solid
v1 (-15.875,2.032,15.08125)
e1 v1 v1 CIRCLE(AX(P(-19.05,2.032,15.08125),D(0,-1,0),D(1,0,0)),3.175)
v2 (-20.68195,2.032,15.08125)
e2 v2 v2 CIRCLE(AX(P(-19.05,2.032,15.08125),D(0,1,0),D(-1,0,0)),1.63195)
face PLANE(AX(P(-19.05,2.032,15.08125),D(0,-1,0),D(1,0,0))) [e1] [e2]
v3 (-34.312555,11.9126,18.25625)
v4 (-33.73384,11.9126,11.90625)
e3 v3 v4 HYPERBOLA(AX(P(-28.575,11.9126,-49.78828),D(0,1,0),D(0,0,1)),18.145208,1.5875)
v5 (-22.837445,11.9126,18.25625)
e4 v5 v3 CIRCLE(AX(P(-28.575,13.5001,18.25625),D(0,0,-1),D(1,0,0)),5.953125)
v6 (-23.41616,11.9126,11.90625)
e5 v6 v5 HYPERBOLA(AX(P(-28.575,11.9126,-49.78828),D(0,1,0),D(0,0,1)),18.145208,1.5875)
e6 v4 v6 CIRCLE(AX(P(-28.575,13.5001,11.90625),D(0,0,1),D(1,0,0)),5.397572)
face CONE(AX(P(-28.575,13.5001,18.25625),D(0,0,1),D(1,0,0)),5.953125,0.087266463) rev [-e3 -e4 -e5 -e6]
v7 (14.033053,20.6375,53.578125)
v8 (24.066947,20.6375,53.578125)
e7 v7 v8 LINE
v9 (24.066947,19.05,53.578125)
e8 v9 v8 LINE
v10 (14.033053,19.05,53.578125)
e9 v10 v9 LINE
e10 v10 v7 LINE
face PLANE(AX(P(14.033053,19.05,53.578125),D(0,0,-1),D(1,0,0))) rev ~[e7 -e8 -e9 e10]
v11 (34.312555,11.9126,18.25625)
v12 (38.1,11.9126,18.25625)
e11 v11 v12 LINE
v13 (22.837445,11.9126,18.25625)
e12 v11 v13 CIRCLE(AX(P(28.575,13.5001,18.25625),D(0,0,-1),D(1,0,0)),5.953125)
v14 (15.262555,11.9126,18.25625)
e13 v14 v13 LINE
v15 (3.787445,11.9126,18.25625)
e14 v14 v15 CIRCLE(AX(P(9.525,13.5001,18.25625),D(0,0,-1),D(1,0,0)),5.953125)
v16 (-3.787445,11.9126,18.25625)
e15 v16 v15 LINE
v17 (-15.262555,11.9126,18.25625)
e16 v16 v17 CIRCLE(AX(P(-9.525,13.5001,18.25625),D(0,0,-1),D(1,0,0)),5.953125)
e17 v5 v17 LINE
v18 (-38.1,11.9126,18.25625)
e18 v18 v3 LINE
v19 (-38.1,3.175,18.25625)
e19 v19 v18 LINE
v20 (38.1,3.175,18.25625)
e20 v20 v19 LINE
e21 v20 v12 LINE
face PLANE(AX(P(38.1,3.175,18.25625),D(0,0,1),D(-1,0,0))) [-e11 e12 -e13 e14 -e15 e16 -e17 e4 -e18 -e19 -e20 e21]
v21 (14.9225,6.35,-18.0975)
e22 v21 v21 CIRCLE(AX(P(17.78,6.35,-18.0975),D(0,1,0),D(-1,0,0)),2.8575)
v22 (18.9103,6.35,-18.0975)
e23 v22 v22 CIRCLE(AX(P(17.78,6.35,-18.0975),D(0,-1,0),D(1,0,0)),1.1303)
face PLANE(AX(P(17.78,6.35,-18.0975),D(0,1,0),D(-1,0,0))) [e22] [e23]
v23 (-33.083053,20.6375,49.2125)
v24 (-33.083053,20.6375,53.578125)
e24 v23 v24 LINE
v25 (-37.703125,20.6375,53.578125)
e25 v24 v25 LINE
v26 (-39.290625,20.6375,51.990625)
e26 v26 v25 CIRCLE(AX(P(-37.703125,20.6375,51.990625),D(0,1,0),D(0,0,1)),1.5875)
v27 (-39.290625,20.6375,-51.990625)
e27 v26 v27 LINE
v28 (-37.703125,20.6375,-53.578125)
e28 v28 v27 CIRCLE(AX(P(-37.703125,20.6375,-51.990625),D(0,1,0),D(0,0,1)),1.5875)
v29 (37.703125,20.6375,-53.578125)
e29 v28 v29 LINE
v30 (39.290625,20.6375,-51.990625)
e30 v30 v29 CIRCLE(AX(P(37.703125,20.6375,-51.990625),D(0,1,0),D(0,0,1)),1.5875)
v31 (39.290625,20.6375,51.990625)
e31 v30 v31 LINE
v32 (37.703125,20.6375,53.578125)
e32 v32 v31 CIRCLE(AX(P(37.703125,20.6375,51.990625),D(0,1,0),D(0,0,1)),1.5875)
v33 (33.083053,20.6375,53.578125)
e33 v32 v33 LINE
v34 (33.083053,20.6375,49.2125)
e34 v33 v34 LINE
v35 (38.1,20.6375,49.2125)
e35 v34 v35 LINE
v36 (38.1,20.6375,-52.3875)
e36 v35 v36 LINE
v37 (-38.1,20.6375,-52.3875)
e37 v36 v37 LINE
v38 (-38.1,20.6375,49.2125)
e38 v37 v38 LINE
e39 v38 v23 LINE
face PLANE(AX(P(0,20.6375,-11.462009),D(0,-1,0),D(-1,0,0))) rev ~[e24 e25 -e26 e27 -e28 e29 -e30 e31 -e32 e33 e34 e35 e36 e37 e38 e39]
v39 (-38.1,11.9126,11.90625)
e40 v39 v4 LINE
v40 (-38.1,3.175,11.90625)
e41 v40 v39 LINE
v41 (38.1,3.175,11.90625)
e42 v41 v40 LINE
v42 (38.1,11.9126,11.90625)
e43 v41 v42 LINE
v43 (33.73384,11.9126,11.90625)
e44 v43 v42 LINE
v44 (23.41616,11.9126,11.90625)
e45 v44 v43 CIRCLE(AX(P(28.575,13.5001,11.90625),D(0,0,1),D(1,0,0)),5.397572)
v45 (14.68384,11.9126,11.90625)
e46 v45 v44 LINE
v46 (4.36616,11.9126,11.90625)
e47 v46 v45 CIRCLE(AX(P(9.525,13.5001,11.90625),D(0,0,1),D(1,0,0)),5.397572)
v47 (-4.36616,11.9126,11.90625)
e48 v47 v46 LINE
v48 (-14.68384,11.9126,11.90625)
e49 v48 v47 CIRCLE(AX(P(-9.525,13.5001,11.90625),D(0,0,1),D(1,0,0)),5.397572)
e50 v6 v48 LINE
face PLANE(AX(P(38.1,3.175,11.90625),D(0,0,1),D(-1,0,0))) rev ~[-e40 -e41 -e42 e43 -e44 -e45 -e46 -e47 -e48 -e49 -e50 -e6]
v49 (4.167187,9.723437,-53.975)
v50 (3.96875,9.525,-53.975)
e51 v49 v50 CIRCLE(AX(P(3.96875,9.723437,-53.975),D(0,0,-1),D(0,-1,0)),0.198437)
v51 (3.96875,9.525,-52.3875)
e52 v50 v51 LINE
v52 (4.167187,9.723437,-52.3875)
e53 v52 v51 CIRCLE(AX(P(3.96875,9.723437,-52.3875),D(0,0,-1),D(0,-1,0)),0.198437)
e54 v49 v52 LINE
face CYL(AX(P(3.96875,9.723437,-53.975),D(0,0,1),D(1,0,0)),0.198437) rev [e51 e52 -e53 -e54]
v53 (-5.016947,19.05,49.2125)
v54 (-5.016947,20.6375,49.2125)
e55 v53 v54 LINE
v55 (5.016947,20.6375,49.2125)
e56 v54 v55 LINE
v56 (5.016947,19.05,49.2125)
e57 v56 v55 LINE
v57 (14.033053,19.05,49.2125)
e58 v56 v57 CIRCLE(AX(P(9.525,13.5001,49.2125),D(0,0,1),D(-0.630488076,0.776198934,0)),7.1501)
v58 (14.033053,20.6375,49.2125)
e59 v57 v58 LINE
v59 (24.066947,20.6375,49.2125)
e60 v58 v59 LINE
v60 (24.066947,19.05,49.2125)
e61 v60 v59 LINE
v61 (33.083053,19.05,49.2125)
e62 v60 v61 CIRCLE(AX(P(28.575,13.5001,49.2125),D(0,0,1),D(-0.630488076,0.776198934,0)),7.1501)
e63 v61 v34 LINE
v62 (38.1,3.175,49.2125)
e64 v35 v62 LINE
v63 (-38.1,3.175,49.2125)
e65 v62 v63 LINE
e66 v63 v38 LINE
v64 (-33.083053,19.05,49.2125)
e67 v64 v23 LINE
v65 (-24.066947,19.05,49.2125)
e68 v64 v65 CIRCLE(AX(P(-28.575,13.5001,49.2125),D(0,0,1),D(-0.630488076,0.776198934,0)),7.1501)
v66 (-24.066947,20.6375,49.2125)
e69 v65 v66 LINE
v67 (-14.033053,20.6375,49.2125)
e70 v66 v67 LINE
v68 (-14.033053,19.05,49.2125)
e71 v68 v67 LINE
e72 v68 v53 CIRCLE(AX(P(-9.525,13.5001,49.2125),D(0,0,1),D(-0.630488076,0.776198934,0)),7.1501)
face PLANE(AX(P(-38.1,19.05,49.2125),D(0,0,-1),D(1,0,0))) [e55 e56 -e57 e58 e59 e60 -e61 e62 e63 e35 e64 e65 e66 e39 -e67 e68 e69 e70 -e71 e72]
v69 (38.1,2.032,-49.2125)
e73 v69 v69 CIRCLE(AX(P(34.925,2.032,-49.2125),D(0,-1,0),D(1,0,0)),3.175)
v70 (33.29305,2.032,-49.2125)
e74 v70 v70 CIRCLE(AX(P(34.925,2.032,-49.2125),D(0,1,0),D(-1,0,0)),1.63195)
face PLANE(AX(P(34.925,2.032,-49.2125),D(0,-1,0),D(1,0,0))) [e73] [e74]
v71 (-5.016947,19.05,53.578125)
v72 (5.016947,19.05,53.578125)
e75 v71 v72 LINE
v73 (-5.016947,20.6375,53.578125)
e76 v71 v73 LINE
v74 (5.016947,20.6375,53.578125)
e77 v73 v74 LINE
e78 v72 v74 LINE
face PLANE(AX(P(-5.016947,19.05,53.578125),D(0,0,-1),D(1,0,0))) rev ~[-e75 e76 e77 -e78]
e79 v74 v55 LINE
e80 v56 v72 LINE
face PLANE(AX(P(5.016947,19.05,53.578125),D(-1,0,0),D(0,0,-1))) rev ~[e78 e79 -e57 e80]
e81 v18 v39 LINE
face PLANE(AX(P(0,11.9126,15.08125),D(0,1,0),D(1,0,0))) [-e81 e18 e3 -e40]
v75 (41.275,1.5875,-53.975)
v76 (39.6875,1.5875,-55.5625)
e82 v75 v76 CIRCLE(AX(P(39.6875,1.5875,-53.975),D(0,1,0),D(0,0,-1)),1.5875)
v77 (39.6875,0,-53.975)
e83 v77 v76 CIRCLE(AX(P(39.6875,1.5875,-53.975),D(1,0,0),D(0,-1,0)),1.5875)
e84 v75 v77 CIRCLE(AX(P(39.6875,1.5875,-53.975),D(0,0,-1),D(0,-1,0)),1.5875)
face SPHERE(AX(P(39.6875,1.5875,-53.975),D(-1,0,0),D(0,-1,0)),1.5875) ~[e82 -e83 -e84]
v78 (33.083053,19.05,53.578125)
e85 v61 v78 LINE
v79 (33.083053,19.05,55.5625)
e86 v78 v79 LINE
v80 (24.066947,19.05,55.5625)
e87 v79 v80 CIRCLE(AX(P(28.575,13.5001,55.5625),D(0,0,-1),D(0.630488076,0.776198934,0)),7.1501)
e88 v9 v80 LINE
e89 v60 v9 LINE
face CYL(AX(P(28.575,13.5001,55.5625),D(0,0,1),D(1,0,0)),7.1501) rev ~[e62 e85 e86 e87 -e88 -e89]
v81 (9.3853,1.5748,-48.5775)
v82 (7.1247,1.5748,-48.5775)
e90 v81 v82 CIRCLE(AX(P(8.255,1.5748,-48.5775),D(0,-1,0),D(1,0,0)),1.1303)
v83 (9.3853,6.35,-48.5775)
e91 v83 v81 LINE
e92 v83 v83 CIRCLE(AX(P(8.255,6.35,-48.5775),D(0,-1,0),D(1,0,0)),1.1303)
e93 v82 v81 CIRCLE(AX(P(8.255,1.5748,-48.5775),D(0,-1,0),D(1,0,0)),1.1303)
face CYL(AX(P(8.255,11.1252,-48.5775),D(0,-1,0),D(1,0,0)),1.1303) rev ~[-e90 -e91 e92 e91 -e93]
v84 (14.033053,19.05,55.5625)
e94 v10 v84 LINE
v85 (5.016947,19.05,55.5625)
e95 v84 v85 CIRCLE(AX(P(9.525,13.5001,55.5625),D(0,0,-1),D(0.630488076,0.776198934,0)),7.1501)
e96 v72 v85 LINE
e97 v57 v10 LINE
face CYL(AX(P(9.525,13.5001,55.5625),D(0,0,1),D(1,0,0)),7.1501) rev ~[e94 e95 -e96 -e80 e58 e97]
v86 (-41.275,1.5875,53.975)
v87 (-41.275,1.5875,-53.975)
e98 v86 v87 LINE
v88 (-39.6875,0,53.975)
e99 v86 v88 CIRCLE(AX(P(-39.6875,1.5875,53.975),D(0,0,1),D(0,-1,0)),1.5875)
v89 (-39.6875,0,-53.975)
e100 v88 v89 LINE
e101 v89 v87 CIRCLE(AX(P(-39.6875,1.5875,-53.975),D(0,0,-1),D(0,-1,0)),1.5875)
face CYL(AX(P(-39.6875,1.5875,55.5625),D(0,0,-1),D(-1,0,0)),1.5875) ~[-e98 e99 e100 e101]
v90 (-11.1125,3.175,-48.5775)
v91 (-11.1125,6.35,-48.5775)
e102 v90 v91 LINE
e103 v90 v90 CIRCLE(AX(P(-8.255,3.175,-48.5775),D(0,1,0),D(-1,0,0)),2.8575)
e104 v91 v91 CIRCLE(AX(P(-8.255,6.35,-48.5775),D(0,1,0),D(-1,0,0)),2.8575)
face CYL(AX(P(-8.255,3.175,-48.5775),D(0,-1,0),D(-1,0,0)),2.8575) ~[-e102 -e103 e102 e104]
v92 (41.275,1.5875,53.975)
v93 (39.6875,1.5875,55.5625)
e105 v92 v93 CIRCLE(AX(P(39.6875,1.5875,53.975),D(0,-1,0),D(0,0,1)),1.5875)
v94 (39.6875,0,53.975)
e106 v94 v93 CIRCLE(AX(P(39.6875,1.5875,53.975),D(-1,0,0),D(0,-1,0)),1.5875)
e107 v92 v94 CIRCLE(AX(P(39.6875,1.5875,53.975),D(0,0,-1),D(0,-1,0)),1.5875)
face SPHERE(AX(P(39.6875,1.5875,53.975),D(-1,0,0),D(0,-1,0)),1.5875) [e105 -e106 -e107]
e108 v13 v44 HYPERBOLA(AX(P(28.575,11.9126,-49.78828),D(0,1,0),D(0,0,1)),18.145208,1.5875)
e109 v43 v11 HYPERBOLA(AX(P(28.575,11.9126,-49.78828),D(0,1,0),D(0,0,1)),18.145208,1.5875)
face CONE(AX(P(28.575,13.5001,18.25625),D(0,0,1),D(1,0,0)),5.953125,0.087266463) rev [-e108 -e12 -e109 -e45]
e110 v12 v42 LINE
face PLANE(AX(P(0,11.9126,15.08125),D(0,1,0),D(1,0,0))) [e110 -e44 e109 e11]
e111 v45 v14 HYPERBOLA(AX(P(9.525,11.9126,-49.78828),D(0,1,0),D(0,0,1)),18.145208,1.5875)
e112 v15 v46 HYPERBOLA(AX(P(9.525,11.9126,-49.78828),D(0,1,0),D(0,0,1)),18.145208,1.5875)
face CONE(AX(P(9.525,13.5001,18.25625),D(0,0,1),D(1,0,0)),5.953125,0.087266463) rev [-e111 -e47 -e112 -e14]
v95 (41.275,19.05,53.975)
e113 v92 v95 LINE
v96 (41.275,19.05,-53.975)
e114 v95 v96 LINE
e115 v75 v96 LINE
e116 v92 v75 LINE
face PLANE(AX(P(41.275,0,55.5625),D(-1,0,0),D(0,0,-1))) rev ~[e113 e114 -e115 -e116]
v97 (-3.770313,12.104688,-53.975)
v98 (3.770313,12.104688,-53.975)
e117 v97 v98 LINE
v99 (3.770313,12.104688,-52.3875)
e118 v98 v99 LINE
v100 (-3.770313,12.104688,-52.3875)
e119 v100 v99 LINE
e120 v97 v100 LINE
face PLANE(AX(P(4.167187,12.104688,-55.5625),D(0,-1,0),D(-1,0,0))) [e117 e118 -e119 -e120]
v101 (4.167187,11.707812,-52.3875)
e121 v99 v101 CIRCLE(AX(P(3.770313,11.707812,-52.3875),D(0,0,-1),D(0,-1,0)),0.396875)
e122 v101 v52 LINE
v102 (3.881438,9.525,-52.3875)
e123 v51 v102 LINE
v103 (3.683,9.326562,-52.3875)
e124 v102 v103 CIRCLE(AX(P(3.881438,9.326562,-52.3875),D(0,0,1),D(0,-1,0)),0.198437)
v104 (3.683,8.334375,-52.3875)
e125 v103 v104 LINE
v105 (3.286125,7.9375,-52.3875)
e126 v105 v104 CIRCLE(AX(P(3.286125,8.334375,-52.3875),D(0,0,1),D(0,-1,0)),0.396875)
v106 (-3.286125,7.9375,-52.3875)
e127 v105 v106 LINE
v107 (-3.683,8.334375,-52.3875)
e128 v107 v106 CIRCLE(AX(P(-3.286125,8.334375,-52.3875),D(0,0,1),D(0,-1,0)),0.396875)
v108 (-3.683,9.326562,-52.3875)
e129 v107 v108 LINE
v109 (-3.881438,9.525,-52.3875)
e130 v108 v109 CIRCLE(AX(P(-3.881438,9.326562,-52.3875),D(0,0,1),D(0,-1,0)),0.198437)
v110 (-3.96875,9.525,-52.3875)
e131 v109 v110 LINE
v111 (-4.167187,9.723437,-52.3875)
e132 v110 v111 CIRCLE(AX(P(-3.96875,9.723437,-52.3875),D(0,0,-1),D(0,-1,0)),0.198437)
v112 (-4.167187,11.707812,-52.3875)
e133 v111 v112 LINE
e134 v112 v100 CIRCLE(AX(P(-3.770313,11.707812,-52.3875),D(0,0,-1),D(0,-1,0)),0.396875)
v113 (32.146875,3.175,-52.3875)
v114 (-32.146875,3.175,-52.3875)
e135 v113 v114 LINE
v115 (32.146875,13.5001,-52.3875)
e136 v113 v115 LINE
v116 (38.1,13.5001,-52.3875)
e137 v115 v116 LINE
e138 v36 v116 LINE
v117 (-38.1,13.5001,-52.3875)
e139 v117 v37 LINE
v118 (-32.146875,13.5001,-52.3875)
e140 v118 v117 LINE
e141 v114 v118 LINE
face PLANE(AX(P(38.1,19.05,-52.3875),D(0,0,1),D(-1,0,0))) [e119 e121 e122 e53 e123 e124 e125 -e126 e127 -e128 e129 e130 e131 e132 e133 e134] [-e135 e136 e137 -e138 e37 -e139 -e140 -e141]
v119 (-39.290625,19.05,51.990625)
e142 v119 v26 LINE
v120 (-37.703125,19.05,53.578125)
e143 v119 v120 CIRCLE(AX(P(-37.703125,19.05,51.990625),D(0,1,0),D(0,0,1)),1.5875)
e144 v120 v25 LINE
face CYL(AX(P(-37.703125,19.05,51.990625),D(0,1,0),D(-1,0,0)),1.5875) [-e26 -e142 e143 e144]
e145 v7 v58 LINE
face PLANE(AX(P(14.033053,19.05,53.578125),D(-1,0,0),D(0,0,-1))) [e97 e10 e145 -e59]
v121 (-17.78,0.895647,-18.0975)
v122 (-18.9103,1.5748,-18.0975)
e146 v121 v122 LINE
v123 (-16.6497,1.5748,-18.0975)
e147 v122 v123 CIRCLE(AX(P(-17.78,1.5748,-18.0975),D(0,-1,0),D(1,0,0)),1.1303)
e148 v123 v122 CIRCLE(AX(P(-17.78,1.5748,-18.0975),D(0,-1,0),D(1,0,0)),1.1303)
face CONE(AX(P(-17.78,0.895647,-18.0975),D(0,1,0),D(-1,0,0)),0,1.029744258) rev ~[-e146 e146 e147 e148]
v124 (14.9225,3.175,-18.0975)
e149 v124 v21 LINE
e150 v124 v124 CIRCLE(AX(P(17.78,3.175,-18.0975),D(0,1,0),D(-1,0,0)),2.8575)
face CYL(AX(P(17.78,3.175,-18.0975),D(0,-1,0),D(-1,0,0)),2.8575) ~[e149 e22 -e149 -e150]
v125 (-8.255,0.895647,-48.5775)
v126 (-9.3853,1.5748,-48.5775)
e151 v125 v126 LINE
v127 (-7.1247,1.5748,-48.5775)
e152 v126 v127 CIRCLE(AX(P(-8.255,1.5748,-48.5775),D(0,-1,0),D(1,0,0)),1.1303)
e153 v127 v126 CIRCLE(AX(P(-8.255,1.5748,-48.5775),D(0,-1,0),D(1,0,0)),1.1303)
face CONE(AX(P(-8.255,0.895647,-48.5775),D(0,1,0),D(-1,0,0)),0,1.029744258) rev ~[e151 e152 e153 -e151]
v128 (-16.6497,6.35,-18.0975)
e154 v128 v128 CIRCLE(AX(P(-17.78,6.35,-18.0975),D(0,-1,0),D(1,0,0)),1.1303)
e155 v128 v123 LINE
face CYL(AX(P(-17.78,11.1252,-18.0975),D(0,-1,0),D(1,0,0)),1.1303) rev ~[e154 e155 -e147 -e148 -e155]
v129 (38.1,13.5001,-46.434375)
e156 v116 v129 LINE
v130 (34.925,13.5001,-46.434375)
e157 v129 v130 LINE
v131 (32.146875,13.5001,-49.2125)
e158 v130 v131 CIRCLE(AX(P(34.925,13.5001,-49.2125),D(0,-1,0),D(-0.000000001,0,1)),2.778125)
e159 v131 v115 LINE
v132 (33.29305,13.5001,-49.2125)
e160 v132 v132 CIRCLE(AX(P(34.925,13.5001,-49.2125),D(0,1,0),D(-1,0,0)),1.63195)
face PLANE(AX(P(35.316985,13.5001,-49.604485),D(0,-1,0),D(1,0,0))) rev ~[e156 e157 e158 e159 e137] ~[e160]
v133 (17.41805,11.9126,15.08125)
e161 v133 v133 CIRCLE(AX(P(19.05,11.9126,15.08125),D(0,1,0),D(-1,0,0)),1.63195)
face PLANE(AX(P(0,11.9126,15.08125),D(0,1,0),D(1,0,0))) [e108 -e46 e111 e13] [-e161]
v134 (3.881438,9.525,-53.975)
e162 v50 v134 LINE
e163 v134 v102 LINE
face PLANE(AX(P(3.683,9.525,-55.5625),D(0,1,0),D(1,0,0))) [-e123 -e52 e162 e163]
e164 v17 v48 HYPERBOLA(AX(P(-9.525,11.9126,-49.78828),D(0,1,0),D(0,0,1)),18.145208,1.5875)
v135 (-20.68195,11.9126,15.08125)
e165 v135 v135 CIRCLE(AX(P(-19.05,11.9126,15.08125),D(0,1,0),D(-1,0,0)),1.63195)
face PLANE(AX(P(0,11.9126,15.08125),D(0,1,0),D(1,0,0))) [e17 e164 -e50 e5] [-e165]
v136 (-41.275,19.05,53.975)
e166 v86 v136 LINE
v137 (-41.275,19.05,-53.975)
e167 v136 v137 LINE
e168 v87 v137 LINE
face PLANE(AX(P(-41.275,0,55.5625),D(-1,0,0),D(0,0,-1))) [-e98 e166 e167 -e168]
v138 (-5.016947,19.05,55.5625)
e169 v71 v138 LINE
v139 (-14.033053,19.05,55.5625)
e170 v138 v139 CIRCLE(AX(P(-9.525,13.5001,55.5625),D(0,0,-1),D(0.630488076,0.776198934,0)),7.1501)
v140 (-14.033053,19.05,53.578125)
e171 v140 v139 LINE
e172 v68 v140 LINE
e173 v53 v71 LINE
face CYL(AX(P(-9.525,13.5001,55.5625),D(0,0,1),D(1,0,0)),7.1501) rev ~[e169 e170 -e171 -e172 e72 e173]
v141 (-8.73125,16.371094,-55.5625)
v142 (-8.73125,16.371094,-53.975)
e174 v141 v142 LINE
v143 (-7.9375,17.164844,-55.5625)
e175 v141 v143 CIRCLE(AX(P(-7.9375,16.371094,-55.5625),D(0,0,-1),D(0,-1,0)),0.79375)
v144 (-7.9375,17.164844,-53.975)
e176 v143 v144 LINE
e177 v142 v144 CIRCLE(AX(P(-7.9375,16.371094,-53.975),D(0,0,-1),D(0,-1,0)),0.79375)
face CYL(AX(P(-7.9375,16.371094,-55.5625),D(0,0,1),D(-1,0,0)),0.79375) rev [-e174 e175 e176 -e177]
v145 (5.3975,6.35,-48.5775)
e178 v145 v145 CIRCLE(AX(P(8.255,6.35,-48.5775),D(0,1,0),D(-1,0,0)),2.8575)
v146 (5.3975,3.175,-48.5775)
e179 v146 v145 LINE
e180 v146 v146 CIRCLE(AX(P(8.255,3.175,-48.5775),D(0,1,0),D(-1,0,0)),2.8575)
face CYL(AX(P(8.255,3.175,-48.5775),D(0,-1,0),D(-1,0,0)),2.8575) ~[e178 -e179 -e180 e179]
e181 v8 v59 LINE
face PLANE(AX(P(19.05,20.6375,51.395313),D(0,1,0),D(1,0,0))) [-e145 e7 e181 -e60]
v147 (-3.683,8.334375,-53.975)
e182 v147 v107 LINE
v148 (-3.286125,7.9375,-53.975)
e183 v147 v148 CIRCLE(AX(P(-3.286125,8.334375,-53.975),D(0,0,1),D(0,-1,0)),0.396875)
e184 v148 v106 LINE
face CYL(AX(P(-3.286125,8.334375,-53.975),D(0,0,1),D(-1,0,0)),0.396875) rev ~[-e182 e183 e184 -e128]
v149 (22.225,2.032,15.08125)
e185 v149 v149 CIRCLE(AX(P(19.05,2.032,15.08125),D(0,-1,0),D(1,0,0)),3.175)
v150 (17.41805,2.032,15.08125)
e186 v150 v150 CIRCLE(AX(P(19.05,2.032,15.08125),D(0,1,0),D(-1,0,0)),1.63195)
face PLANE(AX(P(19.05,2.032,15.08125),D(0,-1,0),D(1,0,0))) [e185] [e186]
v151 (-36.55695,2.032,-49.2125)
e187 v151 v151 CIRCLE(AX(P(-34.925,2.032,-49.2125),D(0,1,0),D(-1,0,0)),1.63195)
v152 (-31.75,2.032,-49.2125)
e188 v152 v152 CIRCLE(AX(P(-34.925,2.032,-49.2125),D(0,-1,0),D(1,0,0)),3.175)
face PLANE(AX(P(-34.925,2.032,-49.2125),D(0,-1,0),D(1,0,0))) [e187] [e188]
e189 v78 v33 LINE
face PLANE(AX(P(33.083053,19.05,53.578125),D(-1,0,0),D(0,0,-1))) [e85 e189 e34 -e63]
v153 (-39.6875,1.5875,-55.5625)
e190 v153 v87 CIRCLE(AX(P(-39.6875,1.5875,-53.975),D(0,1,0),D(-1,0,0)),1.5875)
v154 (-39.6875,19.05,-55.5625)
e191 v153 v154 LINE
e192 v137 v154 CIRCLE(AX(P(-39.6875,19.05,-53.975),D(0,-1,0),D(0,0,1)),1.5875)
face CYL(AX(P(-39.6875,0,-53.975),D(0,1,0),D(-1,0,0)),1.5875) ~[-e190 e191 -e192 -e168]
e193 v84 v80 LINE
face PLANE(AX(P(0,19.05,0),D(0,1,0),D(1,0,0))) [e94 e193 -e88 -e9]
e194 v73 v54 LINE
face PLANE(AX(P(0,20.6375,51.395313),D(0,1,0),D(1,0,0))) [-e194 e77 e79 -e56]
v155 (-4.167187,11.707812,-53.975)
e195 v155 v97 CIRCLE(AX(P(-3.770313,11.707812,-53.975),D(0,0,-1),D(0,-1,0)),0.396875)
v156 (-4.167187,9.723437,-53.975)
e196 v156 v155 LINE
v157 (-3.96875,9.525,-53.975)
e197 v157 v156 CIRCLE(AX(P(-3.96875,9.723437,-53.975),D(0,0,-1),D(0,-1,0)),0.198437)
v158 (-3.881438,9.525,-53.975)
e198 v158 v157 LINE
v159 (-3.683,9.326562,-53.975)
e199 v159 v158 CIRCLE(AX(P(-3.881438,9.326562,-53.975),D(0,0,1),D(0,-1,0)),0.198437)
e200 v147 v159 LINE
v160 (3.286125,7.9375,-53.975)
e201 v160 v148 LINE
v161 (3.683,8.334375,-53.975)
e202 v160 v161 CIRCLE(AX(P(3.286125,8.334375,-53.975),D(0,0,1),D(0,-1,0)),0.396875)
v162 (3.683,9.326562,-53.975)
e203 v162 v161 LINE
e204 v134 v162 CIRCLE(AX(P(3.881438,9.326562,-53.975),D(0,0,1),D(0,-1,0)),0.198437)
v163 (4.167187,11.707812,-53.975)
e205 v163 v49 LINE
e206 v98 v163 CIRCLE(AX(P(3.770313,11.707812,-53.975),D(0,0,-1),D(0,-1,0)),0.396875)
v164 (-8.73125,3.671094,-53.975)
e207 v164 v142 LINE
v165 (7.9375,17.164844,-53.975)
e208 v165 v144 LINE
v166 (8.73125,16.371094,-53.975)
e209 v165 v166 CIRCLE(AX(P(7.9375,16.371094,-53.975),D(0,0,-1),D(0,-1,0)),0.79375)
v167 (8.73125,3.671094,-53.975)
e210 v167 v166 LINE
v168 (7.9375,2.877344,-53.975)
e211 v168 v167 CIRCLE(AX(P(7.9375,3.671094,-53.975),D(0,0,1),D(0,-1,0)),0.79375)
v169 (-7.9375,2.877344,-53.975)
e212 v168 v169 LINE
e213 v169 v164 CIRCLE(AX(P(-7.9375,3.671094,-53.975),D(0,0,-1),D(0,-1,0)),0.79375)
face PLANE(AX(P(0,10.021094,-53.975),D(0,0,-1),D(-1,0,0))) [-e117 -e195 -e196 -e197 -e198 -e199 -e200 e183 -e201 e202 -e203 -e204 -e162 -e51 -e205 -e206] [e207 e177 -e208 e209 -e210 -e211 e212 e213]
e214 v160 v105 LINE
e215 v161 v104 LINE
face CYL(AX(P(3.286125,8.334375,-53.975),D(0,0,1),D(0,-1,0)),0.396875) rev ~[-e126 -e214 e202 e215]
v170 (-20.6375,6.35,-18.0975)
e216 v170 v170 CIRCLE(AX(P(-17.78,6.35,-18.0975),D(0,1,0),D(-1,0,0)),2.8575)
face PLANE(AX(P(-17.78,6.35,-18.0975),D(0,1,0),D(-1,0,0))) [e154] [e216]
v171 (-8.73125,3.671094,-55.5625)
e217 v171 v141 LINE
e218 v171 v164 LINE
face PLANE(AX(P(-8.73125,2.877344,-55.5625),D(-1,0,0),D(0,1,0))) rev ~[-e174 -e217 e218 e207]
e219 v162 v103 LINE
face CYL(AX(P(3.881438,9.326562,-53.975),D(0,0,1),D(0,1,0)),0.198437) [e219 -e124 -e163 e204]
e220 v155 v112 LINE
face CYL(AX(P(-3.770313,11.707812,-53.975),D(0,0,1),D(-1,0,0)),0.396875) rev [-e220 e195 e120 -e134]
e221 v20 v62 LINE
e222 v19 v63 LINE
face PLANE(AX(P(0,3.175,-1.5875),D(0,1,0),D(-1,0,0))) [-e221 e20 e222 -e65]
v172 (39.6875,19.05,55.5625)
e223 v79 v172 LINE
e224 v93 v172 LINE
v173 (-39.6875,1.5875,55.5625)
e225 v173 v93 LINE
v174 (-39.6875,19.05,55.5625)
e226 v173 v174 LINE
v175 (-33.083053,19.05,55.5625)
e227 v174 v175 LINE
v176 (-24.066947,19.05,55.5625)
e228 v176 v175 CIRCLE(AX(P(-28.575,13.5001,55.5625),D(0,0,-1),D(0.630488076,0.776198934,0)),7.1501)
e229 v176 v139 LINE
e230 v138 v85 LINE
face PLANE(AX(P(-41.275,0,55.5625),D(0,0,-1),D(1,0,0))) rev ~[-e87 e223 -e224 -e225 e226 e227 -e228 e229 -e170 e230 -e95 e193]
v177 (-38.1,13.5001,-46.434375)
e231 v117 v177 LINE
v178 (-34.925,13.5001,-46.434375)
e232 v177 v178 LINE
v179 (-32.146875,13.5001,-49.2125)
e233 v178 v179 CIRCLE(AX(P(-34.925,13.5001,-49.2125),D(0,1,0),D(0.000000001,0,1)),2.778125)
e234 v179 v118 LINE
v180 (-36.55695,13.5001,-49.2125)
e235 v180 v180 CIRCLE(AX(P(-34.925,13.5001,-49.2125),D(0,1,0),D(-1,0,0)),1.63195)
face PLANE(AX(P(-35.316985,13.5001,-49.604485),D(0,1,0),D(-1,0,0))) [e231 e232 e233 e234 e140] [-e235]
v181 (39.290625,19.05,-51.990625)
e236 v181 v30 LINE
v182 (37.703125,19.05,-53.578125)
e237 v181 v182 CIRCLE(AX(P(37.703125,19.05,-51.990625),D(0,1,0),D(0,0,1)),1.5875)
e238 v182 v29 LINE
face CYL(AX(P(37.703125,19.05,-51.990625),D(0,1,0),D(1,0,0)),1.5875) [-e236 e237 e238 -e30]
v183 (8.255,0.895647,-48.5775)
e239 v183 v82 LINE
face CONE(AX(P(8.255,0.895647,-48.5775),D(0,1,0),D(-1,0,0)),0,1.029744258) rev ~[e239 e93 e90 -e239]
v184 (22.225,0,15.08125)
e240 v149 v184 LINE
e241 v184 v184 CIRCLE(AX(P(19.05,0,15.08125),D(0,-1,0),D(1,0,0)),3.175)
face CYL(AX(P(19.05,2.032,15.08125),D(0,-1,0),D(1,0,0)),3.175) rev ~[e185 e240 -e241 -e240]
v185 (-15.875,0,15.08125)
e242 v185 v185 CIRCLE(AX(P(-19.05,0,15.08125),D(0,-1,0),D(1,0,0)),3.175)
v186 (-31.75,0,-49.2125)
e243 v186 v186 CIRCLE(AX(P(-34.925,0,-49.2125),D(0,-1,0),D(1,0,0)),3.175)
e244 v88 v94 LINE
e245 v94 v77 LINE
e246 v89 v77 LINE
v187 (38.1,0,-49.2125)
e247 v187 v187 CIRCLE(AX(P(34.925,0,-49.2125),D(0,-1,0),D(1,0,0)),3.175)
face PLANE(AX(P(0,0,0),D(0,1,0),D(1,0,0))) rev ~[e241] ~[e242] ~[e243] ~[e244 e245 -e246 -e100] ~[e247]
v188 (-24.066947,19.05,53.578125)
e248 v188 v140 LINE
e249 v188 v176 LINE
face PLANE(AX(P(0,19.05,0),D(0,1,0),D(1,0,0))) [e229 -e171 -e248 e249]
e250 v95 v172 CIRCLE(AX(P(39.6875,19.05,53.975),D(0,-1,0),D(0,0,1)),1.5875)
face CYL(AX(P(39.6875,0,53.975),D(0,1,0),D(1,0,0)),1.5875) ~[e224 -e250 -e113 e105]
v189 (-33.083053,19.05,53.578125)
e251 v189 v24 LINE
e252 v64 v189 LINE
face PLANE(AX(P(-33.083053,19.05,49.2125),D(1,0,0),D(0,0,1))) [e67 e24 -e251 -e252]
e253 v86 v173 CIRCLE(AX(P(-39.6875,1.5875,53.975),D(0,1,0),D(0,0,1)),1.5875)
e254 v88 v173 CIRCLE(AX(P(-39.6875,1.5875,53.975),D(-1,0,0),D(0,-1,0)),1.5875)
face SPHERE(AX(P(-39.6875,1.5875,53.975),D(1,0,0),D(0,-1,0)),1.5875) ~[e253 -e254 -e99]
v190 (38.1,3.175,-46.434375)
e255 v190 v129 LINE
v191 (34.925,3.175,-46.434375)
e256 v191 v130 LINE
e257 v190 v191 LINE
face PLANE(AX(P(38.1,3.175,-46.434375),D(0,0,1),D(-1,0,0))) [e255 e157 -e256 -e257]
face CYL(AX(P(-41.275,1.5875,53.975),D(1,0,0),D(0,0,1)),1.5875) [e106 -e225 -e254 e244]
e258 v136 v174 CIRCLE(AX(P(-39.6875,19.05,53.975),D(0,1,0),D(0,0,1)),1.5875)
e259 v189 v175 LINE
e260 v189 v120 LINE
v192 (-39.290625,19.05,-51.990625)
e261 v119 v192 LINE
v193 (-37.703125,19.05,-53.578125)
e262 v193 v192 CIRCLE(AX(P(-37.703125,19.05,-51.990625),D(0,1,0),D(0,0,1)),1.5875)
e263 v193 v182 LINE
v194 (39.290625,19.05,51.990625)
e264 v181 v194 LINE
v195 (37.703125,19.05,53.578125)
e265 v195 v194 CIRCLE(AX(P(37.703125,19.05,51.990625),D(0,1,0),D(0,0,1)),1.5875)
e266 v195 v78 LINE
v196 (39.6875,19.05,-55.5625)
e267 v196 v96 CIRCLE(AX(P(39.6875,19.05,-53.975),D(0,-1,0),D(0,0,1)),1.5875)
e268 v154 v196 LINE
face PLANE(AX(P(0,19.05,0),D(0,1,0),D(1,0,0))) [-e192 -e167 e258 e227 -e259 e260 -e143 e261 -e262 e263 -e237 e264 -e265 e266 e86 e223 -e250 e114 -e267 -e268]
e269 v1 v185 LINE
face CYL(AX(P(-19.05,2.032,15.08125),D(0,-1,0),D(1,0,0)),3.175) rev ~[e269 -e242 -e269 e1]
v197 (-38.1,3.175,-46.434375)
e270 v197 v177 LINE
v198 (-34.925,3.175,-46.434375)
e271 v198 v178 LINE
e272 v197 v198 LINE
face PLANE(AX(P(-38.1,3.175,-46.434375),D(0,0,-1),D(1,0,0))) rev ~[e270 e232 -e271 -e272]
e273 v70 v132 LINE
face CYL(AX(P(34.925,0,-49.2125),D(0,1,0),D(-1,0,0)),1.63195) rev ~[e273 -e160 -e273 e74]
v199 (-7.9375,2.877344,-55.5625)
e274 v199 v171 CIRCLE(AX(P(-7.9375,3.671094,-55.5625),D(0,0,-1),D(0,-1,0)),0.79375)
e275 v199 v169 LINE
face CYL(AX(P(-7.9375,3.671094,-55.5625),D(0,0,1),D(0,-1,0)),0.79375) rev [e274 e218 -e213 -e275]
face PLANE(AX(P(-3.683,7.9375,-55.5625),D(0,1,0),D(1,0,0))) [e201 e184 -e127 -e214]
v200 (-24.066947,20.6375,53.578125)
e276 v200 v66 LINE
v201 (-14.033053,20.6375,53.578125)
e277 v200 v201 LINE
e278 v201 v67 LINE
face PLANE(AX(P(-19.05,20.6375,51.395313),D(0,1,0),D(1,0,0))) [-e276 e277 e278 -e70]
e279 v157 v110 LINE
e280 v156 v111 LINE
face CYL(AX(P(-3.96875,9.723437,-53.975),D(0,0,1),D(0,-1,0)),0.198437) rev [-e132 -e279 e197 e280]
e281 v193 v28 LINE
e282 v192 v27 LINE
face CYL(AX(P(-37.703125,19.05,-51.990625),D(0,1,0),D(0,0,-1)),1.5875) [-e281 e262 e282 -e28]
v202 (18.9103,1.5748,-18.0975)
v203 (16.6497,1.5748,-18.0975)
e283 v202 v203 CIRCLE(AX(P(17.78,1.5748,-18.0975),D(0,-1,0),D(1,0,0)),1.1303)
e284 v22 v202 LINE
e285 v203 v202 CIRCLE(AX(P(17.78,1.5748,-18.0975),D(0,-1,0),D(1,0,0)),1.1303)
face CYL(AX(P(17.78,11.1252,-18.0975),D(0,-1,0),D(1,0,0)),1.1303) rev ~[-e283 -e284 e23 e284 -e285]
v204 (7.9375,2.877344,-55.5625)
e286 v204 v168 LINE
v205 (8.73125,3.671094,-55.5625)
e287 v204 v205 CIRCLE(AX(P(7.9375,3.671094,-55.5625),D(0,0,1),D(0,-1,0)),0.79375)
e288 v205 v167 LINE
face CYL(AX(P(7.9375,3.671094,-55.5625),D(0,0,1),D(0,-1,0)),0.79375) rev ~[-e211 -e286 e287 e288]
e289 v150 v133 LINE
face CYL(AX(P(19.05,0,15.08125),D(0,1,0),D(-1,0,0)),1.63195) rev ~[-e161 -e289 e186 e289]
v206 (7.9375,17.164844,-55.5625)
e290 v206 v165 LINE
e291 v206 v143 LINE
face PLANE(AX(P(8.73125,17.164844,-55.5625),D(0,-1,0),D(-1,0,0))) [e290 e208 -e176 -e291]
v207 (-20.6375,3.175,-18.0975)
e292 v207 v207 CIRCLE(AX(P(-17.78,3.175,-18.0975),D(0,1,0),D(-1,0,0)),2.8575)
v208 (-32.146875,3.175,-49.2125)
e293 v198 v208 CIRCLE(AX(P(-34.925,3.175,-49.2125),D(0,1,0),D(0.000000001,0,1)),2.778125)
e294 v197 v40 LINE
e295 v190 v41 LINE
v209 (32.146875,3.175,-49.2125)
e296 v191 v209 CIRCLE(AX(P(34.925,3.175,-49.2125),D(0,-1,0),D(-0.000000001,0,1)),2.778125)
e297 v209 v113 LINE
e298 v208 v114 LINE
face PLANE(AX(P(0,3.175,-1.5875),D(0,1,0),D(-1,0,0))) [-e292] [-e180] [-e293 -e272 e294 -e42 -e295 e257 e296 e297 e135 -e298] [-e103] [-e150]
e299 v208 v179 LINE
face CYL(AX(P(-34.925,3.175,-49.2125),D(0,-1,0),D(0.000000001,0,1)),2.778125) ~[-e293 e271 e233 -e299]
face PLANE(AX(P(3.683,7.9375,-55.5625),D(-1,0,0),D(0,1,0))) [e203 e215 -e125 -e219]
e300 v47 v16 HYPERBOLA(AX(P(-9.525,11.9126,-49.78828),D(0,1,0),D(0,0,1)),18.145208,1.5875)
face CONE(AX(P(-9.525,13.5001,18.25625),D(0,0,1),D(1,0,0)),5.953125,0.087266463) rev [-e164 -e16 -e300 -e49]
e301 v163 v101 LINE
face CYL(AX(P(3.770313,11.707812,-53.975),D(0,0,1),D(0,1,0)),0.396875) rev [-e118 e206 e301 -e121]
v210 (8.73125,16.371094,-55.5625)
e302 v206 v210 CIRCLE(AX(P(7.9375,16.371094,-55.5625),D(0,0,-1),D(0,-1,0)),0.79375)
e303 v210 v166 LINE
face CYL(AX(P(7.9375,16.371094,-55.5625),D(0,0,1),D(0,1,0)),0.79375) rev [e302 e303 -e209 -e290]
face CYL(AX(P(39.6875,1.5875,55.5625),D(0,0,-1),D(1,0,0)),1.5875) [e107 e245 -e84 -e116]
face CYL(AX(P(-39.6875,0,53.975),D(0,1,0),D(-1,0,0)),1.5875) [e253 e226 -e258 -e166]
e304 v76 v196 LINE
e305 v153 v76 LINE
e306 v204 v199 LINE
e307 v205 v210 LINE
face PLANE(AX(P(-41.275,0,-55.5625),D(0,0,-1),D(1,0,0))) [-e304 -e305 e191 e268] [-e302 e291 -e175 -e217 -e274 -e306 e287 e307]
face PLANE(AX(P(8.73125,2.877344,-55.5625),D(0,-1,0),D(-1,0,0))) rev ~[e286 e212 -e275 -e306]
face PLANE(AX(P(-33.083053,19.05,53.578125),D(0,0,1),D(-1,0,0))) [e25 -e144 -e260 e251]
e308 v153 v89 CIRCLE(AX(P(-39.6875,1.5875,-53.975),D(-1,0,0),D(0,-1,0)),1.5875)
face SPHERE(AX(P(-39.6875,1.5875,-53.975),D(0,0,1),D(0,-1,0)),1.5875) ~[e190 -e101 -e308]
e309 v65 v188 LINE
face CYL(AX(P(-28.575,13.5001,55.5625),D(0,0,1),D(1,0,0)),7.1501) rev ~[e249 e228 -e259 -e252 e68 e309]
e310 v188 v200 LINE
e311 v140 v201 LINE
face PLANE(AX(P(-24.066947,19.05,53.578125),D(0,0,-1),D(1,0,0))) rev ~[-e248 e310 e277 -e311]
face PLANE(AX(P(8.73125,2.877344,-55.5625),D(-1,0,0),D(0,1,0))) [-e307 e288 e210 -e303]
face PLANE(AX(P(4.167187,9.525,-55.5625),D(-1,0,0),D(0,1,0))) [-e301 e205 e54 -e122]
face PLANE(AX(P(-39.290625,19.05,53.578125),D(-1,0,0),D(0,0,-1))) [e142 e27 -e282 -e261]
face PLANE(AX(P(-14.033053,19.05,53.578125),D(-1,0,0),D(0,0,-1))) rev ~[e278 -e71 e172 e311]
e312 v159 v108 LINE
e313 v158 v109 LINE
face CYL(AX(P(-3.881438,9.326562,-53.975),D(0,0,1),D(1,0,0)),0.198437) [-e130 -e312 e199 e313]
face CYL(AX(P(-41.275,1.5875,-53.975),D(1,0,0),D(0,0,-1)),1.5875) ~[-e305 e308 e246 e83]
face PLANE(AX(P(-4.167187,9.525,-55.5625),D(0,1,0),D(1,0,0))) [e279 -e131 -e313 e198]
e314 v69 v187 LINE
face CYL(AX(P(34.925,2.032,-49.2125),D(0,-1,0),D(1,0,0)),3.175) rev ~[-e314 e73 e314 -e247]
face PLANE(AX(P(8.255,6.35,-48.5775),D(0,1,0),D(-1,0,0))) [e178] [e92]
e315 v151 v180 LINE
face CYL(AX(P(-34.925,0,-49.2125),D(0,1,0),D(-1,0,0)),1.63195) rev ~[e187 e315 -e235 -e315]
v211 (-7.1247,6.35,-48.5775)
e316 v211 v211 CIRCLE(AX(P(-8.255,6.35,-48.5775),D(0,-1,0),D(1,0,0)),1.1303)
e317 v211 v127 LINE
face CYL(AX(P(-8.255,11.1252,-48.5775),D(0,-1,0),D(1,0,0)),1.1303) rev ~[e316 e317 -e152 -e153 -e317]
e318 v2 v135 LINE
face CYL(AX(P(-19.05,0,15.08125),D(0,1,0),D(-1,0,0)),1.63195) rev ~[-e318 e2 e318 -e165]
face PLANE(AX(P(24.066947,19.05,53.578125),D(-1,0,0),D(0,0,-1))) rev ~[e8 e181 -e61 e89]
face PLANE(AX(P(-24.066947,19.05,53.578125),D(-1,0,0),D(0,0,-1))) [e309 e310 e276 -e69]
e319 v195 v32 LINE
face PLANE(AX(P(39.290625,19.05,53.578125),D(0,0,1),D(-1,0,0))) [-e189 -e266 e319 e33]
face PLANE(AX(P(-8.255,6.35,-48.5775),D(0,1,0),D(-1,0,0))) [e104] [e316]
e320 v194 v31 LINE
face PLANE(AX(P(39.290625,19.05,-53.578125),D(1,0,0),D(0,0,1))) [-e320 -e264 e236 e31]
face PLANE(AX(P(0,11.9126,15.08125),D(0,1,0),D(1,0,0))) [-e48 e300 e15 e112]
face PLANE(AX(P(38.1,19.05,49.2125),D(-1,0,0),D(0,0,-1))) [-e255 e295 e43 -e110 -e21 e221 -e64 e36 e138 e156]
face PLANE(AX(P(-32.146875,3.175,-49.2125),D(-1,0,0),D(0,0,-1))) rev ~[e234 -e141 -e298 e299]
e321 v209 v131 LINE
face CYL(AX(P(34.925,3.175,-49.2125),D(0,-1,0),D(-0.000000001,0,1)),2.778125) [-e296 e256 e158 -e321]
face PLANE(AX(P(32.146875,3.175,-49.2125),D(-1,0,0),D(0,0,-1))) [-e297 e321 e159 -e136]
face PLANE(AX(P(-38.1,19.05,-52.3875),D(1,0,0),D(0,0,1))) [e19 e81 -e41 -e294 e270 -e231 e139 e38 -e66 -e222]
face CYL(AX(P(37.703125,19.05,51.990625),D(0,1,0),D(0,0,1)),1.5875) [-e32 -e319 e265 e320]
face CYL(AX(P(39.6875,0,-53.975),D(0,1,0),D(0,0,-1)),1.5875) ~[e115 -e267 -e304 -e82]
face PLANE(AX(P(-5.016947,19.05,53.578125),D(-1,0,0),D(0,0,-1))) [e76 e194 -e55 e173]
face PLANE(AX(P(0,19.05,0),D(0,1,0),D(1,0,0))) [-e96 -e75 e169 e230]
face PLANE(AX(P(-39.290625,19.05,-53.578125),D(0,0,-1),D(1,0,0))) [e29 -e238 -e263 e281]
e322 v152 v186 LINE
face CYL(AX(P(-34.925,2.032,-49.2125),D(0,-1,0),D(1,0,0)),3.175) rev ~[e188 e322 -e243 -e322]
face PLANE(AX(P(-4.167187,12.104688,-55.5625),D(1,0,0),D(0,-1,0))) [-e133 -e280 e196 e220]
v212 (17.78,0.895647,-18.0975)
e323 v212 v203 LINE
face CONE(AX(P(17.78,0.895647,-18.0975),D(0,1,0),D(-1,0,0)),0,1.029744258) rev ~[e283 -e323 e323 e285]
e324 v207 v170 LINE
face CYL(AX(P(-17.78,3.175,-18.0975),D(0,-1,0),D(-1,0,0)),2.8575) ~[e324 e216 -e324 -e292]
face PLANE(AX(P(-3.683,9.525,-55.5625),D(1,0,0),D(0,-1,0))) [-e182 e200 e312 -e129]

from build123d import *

# Parameters (mm, degrees)
SKETCH1_W                                       = 82.55
SKETCH1_H                                       = 111.125
BOSS_EXTRUDE1_DEPTH                             = 19.05
SKETCH14_W                                      = 76.2
SKETCH14_H                                      = 101.6
CUT_EXTRUDE3_DEPTH                              = 15.875
CUT_EXTRUDE4_REACH                              = 113.125
SKETCH11_R                                      = 7.1501
SKETCH17_W                                      = 76.2
SKETCH17_H                                      = 6.35
BOSS_EXTRUDE4_DEPTH                             = 10.3251
SKETCH18_R                                      = 5.953125
CUT_EXTRUDE5_DEPTH                              = 6.35
CUT_EXTRUDE5_TAPER                              = 5
CUT_EXTRUDE7_REACH                              = 113.125
FILLET6_R                                       = 1.5875
SKETCH19_R                                      = 2.8575
BOSS_EXTRUDE8_DEPTH                             = 3.175
CBORE_FOR_4_PAN_HEAD_MACHINE_SCREW3_D           = 3.2639
CBORE_FOR_4_PAN_HEAD_MACHINE_SCREW3_CBORE_D     = 6.35
CBORE_FOR_4_PAN_HEAD_MACHINE_SCREW3_CBORE_DEPTH = 2.032
F_4_40_TAPPED_HOLE1_D                           = 2.2606
F_4_40_TAPPED_HOLE1_DEPTH                       = 4.7752
F_4_40_TAPPED_HOLE1_TIP                         = 0.679152758
SKETCH39_W                                      = 17.4625
SKETCH39_H                                      = 14.2875
CUT_EXTRUDE8_DEPTH                              = 1.5875
FILLET7_R                                       = 0.79375
FILLET8_R                                       = 0.1984375
FILLET9_R                                       = 0.396875
SKETCH40_W                                      = 10.03389441
SKETCH40_H                                      = 4.365625
BOSS_EXTRUDE9_DEPTH                             = 1.5875
FILLET10_R                                      = 1.5875
SKETCH41_W                                      = 76.2
SKETCH41_H                                      = 6.35
CUT_EXTRUDE9_DEPTH                              = 1.5875


with BuildPart() as part:
    # Sketch1 → Boss-Extrude1 (new body)
    with BuildSketch(Plane(origin=(0, 0, 0), x_dir=(1, 0, 0), z_dir=(0, 1, 0))):
        Rectangle(SKETCH1_W, SKETCH1_H)
    extrude(amount=BOSS_EXTRUDE1_DEPTH)

    # Sketch14 → Cut-Extrude3 (cut)
    with BuildSketch(Plane(origin=(0, 19.05, 0), x_dir=(-1, 0, 0), z_dir=(0, 1, 0))):
        with Locations((0, -1.5875)):
            Rectangle(SKETCH14_W, SKETCH14_H)
    extrude(amount=-CUT_EXTRUDE3_DEPTH, mode=Mode.SUBTRACT)

    # Sketch11 → Cut-Extrude4 (cut, up to next)
    with BuildSketch(Plane.XY.offset(55.5625), mode=Mode.PRIVATE) as cut_extrude4_sk1:
        with Locations((-28.575, 13.5001)):
            Circle(SKETCH11_R)
    cut_extrude4_tool1 = extrude(cut_extrude4_sk1.sketch, amount=-CUT_EXTRUDE4_REACH, mode=Mode.PRIVATE) & part.part
    add(cut_extrude4_tool1.solids().sort_by_distance((-28.575, 13.5001, 55.5625))[0], mode=Mode.SUBTRACT)
    # Sketch11 → Cut-Extrude4 (cut, up to next)
    with BuildSketch(Plane.XY.offset(55.5625), mode=Mode.PRIVATE) as cut_extrude4_sk2:
        with Locations((-9.525, 13.5001)):
            Circle(SKETCH11_R)
    cut_extrude4_tool2 = extrude(cut_extrude4_sk2.sketch, amount=-CUT_EXTRUDE4_REACH, mode=Mode.PRIVATE) & part.part
    add(cut_extrude4_tool2.solids().sort_by_distance((-9.525, 13.5001, 55.5625))[0], mode=Mode.SUBTRACT)
    # Sketch11 → Cut-Extrude4 (cut, up to next)
    with BuildSketch(Plane.XY.offset(55.5625), mode=Mode.PRIVATE) as cut_extrude4_sk3:
        with Locations((9.525, 13.5001)):
            Circle(SKETCH11_R)
    cut_extrude4_tool3 = extrude(cut_extrude4_sk3.sketch, amount=-CUT_EXTRUDE4_REACH, mode=Mode.PRIVATE) & part.part
    add(cut_extrude4_tool3.solids().sort_by_distance((9.525, 13.5001, 55.5625))[0], mode=Mode.SUBTRACT)
    # Sketch11 → Cut-Extrude4 (cut, up to next)
    with BuildSketch(Plane.XY.offset(55.5625), mode=Mode.PRIVATE) as cut_extrude4_sk4:
        with Locations((28.575, 13.5001)):
            Circle(SKETCH11_R)
    cut_extrude4_tool4 = extrude(cut_extrude4_sk4.sketch, amount=-CUT_EXTRUDE4_REACH, mode=Mode.PRIVATE) & part.part
    add(cut_extrude4_tool4.solids().sort_by_distance((28.575, 13.5001, 55.5625))[0], mode=Mode.SUBTRACT)

    # Sketch17 → Boss-Extrude4 (add)
    with BuildSketch(Plane(origin=(0, 3.175, 0), x_dir=(-1, 0, 0), z_dir=(0, 1, 0))):
        with Locations((0, 15.08125)):
            Rectangle(SKETCH17_W, SKETCH17_H)
        with BuildLine():
            Line((32.146875, -49.2125), (32.146875, -52.3875))
            Line((32.146875, -52.3875), (38.1, -52.3875))
            Line((38.1, -52.3875), (38.1, -46.434375))
            Line((38.1, -46.434375), (34.925, -46.434375))
            ThreePointArc((34.925, -46.434375), (32.960568974, -47.248068974), (32.146875, -49.2125))
        make_face()
        with BuildLine():
            Line((-32.146875, -49.2125), (-32.146875, -52.3875))
            Line((-32.146875, -52.3875), (-38.1, -52.3875))
            Line((-38.1, -52.3875), (-38.1, -46.434375))
            Line((-38.1, -46.434375), (-34.925, -46.434375))
            ThreePointArc((-34.925, -46.434375), (-32.960568974, -47.248068974), (-32.146875, -49.2125))
        make_face()
    extrude(amount=BOSS_EXTRUDE4_DEPTH)

    # Sketch18 → Cut-Extrude5 (cut)
    with BuildSketch(Plane.XY.offset(18.25625)):
        with Locations((-28.575, 13.5001)):
            Circle(SKETCH18_R)
        with Locations((-9.525, 13.5001)):
            Circle(SKETCH18_R)
        with Locations((9.525, 13.5001)):
            Circle(SKETCH18_R)
        with Locations((28.575, 13.5001)):
            Circle(SKETCH18_R)
    extrude(amount=-CUT_EXTRUDE5_DEPTH, taper=CUT_EXTRUDE5_TAPER, mode=Mode.SUBTRACT)

    # Sketch21 → Cut-Extrude7 (cut, up to next)
    with BuildSketch(Plane(origin=(0, 0, -55.5625), x_dir=(-1, 0, 0), z_dir=(0, 0, -1)), mode=Mode.PRIVATE) as cut_extrude7_sk1:
        Polygon((-3.683, 7.9375), (-3.683, 9.525), (-4.1671875, 9.525), (-4.1671875, 12.1046875), (4.1671875, 12.1046875), (4.1671875, 9.525), (3.683, 9.525), (3.683, 7.9375), align=None)
    cut_extrude7_tool1 = extrude(cut_extrude7_sk1.sketch, amount=-CUT_EXTRUDE7_REACH, mode=Mode.PRIVATE) & part.part
    add(cut_extrude7_tool1.solids().sort_by_distance((0, 10.08083, -55.5625))[0], mode=Mode.SUBTRACT)

    # Fillet6
    fillet6_edges = [part.edges().sort_by_distance(p)[0] for p in [
        (0, 0, 55.5625),
        (-41.275, 0, 0),
        (0, 0, -55.5625),
        (41.275, 0, 0),
        (41.275, 9.525, 55.5625),
        (-41.275, 9.525, 55.5625),
        (-41.275, 9.525, -55.5625),
        (41.275, 9.525, -55.5625),
    ]]
    fillet(fillet6_edges, radius=FILLET6_R)

    # Sketch19 → Boss-Extrude8 (add)
    with BuildSketch(Plane(origin=(0, 3.175, 0), x_dir=(-1, 0, 0), z_dir=(0, 1, 0))):
        with Locations((8.255, -48.5775)):
            Circle(SKETCH19_R)
        with Locations((-8.255, -48.5775)):
            Circle(SKETCH19_R)
        with Locations((17.78, -18.0975)):
            Circle(SKETCH19_R)
        with Locations((-17.78, -18.0975)):
            Circle(SKETCH19_R)
    extrude(amount=BOSS_EXTRUDE8_DEPTH)

    # CBORE for #4 Pan Head Machine Screw3 (through all)
    with Locations(Plane.XZ):
        with Locations((-19.05, 15.08125), (19.05, 15.08125), (-34.925, -49.2125), (34.925, -49.2125)):
            CounterBoreHole(CBORE_FOR_4_PAN_HEAD_MACHINE_SCREW3_D / 2, CBORE_FOR_4_PAN_HEAD_MACHINE_SCREW3_CBORE_D / 2, CBORE_FOR_4_PAN_HEAD_MACHINE_SCREW3_CBORE_DEPTH)

    # #4-40 Tapped Hole1
    with Locations(Plane(origin=(-31.823802028, 6.35, 11.997353854), x_dir=(-1, 0, 0), z_dir=(0, 1, 0))):
        with Locations((-23.568802028, -60.574853854), (-14.043802028, -30.094853854), (-49.603802028, -30.094853854), (-40.078802028, -60.574853854)):
            Hole(F_4_40_TAPPED_HOLE1_D / 2, depth=F_4_40_TAPPED_HOLE1_DEPTH)
            with Locations((0, 0, -(F_4_40_TAPPED_HOLE1_DEPTH + F_4_40_TAPPED_HOLE1_TIP / 2))):  # 118° drill point
                Cone(0, F_4_40_TAPPED_HOLE1_D / 2, F_4_40_TAPPED_HOLE1_TIP, mode=Mode.SUBTRACT)

    # Sketch39 → Cut-Extrude8 (cut)
    with BuildSketch(Plane(origin=(0, 0, -55.5625), x_dir=(-1, 0, 0), z_dir=(0, 0, -1))):
        with Locations((0, 10.02109375)):
            Rectangle(SKETCH39_W, SKETCH39_H)
    extrude(amount=-CUT_EXTRUDE8_DEPTH, mode=Mode.SUBTRACT)

    # Fillet7
    fillet7_edges = [part.edges().sort_by_distance(p)[0] for p in [
        (-8.73125, 17.16484375, -54.76875),
        (-8.73125, 2.87734375, -54.76875),
        (8.73125, 2.87734375, -54.76875),
        (8.73125, 17.16484375, -54.76875),
    ]]
    fillet(fillet7_edges, radius=FILLET7_R)

    # Fillet8
    fillet8_edges = [part.edges().sort_by_distance(p)[0] for p in [
        (3.683, 9.525, -53.18125),
        (4.1671875, 9.525, -53.18125),
        (-4.1671875, 9.525, -53.18125),
        (-3.683, 9.525, -53.18125),
    ]]
    fillet(fillet8_edges, radius=FILLET8_R)

    # Fillet9
    fillet9_edges = [part.edges().sort_by_distance(p)[0] for p in [
        (-3.683, 7.9375, -53.18125),
        (3.683, 7.9375, -53.18125),
        (4.1671875, 12.1046875, -53.18125),
        (-4.1671875, 12.1046875, -53.18125),
    ]]
    fillet(fillet9_edges, radius=FILLET9_R)

    # Sketch40 → Boss-Extrude9 (add)
    with BuildSketch(Plane(origin=(0, 19.05, 0), x_dir=(1, 0, 0), z_dir=(0, 1, 0))):
        Polygon((-33.083052795, -49.2125), (-33.083052795, -53.578125), (-39.290625, -53.578125), (-39.290625, 53.578125), (39.290625, 53.578125), (39.290625, -53.578125), (33.083052795, -53.578125), (33.083052795, -49.2125), (38.1, -49.2125), (38.1, 52.3875), (-38.1, 52.3875), (-38.1, -49.2125), align=None)
        with Locations((-19.05, -51.3953125)):
            Rectangle(SKETCH40_W, SKETCH40_H)
        with Locations((0, -51.3953125)):
            Rectangle(SKETCH40_W, SKETCH40_H)
        with Locations((19.05, -51.3953125)):
            Rectangle(SKETCH40_W, SKETCH40_H)
    extrude(amount=BOSS_EXTRUDE9_DEPTH)

    # Fillet10
    fillet10_edges = [part.edges().sort_by_distance(p)[0] for p in [
        (-39.290625, 19.84375, -53.578125),
        (-39.290625, 19.84375, 53.578125),
        (39.290625, 19.84375, 53.578125),
        (39.290625, 19.84375, -53.578125),
    ]]
    fillet(fillet10_edges, radius=FILLET10_R)

    # Sketch41 → Cut-Extrude9 (cut)
    with BuildSketch(Plane(origin=(0, 13.5001, 0), x_dir=(1, 0, 0), z_dir=(0, 1, 0))):
        with Locations((0, -15.08125)):
            Rectangle(SKETCH41_W, SKETCH41_H)
    extrude(amount=-CUT_EXTRUDE9_DEPTH, mode=Mode.SUBTRACT)


solid = part.part
